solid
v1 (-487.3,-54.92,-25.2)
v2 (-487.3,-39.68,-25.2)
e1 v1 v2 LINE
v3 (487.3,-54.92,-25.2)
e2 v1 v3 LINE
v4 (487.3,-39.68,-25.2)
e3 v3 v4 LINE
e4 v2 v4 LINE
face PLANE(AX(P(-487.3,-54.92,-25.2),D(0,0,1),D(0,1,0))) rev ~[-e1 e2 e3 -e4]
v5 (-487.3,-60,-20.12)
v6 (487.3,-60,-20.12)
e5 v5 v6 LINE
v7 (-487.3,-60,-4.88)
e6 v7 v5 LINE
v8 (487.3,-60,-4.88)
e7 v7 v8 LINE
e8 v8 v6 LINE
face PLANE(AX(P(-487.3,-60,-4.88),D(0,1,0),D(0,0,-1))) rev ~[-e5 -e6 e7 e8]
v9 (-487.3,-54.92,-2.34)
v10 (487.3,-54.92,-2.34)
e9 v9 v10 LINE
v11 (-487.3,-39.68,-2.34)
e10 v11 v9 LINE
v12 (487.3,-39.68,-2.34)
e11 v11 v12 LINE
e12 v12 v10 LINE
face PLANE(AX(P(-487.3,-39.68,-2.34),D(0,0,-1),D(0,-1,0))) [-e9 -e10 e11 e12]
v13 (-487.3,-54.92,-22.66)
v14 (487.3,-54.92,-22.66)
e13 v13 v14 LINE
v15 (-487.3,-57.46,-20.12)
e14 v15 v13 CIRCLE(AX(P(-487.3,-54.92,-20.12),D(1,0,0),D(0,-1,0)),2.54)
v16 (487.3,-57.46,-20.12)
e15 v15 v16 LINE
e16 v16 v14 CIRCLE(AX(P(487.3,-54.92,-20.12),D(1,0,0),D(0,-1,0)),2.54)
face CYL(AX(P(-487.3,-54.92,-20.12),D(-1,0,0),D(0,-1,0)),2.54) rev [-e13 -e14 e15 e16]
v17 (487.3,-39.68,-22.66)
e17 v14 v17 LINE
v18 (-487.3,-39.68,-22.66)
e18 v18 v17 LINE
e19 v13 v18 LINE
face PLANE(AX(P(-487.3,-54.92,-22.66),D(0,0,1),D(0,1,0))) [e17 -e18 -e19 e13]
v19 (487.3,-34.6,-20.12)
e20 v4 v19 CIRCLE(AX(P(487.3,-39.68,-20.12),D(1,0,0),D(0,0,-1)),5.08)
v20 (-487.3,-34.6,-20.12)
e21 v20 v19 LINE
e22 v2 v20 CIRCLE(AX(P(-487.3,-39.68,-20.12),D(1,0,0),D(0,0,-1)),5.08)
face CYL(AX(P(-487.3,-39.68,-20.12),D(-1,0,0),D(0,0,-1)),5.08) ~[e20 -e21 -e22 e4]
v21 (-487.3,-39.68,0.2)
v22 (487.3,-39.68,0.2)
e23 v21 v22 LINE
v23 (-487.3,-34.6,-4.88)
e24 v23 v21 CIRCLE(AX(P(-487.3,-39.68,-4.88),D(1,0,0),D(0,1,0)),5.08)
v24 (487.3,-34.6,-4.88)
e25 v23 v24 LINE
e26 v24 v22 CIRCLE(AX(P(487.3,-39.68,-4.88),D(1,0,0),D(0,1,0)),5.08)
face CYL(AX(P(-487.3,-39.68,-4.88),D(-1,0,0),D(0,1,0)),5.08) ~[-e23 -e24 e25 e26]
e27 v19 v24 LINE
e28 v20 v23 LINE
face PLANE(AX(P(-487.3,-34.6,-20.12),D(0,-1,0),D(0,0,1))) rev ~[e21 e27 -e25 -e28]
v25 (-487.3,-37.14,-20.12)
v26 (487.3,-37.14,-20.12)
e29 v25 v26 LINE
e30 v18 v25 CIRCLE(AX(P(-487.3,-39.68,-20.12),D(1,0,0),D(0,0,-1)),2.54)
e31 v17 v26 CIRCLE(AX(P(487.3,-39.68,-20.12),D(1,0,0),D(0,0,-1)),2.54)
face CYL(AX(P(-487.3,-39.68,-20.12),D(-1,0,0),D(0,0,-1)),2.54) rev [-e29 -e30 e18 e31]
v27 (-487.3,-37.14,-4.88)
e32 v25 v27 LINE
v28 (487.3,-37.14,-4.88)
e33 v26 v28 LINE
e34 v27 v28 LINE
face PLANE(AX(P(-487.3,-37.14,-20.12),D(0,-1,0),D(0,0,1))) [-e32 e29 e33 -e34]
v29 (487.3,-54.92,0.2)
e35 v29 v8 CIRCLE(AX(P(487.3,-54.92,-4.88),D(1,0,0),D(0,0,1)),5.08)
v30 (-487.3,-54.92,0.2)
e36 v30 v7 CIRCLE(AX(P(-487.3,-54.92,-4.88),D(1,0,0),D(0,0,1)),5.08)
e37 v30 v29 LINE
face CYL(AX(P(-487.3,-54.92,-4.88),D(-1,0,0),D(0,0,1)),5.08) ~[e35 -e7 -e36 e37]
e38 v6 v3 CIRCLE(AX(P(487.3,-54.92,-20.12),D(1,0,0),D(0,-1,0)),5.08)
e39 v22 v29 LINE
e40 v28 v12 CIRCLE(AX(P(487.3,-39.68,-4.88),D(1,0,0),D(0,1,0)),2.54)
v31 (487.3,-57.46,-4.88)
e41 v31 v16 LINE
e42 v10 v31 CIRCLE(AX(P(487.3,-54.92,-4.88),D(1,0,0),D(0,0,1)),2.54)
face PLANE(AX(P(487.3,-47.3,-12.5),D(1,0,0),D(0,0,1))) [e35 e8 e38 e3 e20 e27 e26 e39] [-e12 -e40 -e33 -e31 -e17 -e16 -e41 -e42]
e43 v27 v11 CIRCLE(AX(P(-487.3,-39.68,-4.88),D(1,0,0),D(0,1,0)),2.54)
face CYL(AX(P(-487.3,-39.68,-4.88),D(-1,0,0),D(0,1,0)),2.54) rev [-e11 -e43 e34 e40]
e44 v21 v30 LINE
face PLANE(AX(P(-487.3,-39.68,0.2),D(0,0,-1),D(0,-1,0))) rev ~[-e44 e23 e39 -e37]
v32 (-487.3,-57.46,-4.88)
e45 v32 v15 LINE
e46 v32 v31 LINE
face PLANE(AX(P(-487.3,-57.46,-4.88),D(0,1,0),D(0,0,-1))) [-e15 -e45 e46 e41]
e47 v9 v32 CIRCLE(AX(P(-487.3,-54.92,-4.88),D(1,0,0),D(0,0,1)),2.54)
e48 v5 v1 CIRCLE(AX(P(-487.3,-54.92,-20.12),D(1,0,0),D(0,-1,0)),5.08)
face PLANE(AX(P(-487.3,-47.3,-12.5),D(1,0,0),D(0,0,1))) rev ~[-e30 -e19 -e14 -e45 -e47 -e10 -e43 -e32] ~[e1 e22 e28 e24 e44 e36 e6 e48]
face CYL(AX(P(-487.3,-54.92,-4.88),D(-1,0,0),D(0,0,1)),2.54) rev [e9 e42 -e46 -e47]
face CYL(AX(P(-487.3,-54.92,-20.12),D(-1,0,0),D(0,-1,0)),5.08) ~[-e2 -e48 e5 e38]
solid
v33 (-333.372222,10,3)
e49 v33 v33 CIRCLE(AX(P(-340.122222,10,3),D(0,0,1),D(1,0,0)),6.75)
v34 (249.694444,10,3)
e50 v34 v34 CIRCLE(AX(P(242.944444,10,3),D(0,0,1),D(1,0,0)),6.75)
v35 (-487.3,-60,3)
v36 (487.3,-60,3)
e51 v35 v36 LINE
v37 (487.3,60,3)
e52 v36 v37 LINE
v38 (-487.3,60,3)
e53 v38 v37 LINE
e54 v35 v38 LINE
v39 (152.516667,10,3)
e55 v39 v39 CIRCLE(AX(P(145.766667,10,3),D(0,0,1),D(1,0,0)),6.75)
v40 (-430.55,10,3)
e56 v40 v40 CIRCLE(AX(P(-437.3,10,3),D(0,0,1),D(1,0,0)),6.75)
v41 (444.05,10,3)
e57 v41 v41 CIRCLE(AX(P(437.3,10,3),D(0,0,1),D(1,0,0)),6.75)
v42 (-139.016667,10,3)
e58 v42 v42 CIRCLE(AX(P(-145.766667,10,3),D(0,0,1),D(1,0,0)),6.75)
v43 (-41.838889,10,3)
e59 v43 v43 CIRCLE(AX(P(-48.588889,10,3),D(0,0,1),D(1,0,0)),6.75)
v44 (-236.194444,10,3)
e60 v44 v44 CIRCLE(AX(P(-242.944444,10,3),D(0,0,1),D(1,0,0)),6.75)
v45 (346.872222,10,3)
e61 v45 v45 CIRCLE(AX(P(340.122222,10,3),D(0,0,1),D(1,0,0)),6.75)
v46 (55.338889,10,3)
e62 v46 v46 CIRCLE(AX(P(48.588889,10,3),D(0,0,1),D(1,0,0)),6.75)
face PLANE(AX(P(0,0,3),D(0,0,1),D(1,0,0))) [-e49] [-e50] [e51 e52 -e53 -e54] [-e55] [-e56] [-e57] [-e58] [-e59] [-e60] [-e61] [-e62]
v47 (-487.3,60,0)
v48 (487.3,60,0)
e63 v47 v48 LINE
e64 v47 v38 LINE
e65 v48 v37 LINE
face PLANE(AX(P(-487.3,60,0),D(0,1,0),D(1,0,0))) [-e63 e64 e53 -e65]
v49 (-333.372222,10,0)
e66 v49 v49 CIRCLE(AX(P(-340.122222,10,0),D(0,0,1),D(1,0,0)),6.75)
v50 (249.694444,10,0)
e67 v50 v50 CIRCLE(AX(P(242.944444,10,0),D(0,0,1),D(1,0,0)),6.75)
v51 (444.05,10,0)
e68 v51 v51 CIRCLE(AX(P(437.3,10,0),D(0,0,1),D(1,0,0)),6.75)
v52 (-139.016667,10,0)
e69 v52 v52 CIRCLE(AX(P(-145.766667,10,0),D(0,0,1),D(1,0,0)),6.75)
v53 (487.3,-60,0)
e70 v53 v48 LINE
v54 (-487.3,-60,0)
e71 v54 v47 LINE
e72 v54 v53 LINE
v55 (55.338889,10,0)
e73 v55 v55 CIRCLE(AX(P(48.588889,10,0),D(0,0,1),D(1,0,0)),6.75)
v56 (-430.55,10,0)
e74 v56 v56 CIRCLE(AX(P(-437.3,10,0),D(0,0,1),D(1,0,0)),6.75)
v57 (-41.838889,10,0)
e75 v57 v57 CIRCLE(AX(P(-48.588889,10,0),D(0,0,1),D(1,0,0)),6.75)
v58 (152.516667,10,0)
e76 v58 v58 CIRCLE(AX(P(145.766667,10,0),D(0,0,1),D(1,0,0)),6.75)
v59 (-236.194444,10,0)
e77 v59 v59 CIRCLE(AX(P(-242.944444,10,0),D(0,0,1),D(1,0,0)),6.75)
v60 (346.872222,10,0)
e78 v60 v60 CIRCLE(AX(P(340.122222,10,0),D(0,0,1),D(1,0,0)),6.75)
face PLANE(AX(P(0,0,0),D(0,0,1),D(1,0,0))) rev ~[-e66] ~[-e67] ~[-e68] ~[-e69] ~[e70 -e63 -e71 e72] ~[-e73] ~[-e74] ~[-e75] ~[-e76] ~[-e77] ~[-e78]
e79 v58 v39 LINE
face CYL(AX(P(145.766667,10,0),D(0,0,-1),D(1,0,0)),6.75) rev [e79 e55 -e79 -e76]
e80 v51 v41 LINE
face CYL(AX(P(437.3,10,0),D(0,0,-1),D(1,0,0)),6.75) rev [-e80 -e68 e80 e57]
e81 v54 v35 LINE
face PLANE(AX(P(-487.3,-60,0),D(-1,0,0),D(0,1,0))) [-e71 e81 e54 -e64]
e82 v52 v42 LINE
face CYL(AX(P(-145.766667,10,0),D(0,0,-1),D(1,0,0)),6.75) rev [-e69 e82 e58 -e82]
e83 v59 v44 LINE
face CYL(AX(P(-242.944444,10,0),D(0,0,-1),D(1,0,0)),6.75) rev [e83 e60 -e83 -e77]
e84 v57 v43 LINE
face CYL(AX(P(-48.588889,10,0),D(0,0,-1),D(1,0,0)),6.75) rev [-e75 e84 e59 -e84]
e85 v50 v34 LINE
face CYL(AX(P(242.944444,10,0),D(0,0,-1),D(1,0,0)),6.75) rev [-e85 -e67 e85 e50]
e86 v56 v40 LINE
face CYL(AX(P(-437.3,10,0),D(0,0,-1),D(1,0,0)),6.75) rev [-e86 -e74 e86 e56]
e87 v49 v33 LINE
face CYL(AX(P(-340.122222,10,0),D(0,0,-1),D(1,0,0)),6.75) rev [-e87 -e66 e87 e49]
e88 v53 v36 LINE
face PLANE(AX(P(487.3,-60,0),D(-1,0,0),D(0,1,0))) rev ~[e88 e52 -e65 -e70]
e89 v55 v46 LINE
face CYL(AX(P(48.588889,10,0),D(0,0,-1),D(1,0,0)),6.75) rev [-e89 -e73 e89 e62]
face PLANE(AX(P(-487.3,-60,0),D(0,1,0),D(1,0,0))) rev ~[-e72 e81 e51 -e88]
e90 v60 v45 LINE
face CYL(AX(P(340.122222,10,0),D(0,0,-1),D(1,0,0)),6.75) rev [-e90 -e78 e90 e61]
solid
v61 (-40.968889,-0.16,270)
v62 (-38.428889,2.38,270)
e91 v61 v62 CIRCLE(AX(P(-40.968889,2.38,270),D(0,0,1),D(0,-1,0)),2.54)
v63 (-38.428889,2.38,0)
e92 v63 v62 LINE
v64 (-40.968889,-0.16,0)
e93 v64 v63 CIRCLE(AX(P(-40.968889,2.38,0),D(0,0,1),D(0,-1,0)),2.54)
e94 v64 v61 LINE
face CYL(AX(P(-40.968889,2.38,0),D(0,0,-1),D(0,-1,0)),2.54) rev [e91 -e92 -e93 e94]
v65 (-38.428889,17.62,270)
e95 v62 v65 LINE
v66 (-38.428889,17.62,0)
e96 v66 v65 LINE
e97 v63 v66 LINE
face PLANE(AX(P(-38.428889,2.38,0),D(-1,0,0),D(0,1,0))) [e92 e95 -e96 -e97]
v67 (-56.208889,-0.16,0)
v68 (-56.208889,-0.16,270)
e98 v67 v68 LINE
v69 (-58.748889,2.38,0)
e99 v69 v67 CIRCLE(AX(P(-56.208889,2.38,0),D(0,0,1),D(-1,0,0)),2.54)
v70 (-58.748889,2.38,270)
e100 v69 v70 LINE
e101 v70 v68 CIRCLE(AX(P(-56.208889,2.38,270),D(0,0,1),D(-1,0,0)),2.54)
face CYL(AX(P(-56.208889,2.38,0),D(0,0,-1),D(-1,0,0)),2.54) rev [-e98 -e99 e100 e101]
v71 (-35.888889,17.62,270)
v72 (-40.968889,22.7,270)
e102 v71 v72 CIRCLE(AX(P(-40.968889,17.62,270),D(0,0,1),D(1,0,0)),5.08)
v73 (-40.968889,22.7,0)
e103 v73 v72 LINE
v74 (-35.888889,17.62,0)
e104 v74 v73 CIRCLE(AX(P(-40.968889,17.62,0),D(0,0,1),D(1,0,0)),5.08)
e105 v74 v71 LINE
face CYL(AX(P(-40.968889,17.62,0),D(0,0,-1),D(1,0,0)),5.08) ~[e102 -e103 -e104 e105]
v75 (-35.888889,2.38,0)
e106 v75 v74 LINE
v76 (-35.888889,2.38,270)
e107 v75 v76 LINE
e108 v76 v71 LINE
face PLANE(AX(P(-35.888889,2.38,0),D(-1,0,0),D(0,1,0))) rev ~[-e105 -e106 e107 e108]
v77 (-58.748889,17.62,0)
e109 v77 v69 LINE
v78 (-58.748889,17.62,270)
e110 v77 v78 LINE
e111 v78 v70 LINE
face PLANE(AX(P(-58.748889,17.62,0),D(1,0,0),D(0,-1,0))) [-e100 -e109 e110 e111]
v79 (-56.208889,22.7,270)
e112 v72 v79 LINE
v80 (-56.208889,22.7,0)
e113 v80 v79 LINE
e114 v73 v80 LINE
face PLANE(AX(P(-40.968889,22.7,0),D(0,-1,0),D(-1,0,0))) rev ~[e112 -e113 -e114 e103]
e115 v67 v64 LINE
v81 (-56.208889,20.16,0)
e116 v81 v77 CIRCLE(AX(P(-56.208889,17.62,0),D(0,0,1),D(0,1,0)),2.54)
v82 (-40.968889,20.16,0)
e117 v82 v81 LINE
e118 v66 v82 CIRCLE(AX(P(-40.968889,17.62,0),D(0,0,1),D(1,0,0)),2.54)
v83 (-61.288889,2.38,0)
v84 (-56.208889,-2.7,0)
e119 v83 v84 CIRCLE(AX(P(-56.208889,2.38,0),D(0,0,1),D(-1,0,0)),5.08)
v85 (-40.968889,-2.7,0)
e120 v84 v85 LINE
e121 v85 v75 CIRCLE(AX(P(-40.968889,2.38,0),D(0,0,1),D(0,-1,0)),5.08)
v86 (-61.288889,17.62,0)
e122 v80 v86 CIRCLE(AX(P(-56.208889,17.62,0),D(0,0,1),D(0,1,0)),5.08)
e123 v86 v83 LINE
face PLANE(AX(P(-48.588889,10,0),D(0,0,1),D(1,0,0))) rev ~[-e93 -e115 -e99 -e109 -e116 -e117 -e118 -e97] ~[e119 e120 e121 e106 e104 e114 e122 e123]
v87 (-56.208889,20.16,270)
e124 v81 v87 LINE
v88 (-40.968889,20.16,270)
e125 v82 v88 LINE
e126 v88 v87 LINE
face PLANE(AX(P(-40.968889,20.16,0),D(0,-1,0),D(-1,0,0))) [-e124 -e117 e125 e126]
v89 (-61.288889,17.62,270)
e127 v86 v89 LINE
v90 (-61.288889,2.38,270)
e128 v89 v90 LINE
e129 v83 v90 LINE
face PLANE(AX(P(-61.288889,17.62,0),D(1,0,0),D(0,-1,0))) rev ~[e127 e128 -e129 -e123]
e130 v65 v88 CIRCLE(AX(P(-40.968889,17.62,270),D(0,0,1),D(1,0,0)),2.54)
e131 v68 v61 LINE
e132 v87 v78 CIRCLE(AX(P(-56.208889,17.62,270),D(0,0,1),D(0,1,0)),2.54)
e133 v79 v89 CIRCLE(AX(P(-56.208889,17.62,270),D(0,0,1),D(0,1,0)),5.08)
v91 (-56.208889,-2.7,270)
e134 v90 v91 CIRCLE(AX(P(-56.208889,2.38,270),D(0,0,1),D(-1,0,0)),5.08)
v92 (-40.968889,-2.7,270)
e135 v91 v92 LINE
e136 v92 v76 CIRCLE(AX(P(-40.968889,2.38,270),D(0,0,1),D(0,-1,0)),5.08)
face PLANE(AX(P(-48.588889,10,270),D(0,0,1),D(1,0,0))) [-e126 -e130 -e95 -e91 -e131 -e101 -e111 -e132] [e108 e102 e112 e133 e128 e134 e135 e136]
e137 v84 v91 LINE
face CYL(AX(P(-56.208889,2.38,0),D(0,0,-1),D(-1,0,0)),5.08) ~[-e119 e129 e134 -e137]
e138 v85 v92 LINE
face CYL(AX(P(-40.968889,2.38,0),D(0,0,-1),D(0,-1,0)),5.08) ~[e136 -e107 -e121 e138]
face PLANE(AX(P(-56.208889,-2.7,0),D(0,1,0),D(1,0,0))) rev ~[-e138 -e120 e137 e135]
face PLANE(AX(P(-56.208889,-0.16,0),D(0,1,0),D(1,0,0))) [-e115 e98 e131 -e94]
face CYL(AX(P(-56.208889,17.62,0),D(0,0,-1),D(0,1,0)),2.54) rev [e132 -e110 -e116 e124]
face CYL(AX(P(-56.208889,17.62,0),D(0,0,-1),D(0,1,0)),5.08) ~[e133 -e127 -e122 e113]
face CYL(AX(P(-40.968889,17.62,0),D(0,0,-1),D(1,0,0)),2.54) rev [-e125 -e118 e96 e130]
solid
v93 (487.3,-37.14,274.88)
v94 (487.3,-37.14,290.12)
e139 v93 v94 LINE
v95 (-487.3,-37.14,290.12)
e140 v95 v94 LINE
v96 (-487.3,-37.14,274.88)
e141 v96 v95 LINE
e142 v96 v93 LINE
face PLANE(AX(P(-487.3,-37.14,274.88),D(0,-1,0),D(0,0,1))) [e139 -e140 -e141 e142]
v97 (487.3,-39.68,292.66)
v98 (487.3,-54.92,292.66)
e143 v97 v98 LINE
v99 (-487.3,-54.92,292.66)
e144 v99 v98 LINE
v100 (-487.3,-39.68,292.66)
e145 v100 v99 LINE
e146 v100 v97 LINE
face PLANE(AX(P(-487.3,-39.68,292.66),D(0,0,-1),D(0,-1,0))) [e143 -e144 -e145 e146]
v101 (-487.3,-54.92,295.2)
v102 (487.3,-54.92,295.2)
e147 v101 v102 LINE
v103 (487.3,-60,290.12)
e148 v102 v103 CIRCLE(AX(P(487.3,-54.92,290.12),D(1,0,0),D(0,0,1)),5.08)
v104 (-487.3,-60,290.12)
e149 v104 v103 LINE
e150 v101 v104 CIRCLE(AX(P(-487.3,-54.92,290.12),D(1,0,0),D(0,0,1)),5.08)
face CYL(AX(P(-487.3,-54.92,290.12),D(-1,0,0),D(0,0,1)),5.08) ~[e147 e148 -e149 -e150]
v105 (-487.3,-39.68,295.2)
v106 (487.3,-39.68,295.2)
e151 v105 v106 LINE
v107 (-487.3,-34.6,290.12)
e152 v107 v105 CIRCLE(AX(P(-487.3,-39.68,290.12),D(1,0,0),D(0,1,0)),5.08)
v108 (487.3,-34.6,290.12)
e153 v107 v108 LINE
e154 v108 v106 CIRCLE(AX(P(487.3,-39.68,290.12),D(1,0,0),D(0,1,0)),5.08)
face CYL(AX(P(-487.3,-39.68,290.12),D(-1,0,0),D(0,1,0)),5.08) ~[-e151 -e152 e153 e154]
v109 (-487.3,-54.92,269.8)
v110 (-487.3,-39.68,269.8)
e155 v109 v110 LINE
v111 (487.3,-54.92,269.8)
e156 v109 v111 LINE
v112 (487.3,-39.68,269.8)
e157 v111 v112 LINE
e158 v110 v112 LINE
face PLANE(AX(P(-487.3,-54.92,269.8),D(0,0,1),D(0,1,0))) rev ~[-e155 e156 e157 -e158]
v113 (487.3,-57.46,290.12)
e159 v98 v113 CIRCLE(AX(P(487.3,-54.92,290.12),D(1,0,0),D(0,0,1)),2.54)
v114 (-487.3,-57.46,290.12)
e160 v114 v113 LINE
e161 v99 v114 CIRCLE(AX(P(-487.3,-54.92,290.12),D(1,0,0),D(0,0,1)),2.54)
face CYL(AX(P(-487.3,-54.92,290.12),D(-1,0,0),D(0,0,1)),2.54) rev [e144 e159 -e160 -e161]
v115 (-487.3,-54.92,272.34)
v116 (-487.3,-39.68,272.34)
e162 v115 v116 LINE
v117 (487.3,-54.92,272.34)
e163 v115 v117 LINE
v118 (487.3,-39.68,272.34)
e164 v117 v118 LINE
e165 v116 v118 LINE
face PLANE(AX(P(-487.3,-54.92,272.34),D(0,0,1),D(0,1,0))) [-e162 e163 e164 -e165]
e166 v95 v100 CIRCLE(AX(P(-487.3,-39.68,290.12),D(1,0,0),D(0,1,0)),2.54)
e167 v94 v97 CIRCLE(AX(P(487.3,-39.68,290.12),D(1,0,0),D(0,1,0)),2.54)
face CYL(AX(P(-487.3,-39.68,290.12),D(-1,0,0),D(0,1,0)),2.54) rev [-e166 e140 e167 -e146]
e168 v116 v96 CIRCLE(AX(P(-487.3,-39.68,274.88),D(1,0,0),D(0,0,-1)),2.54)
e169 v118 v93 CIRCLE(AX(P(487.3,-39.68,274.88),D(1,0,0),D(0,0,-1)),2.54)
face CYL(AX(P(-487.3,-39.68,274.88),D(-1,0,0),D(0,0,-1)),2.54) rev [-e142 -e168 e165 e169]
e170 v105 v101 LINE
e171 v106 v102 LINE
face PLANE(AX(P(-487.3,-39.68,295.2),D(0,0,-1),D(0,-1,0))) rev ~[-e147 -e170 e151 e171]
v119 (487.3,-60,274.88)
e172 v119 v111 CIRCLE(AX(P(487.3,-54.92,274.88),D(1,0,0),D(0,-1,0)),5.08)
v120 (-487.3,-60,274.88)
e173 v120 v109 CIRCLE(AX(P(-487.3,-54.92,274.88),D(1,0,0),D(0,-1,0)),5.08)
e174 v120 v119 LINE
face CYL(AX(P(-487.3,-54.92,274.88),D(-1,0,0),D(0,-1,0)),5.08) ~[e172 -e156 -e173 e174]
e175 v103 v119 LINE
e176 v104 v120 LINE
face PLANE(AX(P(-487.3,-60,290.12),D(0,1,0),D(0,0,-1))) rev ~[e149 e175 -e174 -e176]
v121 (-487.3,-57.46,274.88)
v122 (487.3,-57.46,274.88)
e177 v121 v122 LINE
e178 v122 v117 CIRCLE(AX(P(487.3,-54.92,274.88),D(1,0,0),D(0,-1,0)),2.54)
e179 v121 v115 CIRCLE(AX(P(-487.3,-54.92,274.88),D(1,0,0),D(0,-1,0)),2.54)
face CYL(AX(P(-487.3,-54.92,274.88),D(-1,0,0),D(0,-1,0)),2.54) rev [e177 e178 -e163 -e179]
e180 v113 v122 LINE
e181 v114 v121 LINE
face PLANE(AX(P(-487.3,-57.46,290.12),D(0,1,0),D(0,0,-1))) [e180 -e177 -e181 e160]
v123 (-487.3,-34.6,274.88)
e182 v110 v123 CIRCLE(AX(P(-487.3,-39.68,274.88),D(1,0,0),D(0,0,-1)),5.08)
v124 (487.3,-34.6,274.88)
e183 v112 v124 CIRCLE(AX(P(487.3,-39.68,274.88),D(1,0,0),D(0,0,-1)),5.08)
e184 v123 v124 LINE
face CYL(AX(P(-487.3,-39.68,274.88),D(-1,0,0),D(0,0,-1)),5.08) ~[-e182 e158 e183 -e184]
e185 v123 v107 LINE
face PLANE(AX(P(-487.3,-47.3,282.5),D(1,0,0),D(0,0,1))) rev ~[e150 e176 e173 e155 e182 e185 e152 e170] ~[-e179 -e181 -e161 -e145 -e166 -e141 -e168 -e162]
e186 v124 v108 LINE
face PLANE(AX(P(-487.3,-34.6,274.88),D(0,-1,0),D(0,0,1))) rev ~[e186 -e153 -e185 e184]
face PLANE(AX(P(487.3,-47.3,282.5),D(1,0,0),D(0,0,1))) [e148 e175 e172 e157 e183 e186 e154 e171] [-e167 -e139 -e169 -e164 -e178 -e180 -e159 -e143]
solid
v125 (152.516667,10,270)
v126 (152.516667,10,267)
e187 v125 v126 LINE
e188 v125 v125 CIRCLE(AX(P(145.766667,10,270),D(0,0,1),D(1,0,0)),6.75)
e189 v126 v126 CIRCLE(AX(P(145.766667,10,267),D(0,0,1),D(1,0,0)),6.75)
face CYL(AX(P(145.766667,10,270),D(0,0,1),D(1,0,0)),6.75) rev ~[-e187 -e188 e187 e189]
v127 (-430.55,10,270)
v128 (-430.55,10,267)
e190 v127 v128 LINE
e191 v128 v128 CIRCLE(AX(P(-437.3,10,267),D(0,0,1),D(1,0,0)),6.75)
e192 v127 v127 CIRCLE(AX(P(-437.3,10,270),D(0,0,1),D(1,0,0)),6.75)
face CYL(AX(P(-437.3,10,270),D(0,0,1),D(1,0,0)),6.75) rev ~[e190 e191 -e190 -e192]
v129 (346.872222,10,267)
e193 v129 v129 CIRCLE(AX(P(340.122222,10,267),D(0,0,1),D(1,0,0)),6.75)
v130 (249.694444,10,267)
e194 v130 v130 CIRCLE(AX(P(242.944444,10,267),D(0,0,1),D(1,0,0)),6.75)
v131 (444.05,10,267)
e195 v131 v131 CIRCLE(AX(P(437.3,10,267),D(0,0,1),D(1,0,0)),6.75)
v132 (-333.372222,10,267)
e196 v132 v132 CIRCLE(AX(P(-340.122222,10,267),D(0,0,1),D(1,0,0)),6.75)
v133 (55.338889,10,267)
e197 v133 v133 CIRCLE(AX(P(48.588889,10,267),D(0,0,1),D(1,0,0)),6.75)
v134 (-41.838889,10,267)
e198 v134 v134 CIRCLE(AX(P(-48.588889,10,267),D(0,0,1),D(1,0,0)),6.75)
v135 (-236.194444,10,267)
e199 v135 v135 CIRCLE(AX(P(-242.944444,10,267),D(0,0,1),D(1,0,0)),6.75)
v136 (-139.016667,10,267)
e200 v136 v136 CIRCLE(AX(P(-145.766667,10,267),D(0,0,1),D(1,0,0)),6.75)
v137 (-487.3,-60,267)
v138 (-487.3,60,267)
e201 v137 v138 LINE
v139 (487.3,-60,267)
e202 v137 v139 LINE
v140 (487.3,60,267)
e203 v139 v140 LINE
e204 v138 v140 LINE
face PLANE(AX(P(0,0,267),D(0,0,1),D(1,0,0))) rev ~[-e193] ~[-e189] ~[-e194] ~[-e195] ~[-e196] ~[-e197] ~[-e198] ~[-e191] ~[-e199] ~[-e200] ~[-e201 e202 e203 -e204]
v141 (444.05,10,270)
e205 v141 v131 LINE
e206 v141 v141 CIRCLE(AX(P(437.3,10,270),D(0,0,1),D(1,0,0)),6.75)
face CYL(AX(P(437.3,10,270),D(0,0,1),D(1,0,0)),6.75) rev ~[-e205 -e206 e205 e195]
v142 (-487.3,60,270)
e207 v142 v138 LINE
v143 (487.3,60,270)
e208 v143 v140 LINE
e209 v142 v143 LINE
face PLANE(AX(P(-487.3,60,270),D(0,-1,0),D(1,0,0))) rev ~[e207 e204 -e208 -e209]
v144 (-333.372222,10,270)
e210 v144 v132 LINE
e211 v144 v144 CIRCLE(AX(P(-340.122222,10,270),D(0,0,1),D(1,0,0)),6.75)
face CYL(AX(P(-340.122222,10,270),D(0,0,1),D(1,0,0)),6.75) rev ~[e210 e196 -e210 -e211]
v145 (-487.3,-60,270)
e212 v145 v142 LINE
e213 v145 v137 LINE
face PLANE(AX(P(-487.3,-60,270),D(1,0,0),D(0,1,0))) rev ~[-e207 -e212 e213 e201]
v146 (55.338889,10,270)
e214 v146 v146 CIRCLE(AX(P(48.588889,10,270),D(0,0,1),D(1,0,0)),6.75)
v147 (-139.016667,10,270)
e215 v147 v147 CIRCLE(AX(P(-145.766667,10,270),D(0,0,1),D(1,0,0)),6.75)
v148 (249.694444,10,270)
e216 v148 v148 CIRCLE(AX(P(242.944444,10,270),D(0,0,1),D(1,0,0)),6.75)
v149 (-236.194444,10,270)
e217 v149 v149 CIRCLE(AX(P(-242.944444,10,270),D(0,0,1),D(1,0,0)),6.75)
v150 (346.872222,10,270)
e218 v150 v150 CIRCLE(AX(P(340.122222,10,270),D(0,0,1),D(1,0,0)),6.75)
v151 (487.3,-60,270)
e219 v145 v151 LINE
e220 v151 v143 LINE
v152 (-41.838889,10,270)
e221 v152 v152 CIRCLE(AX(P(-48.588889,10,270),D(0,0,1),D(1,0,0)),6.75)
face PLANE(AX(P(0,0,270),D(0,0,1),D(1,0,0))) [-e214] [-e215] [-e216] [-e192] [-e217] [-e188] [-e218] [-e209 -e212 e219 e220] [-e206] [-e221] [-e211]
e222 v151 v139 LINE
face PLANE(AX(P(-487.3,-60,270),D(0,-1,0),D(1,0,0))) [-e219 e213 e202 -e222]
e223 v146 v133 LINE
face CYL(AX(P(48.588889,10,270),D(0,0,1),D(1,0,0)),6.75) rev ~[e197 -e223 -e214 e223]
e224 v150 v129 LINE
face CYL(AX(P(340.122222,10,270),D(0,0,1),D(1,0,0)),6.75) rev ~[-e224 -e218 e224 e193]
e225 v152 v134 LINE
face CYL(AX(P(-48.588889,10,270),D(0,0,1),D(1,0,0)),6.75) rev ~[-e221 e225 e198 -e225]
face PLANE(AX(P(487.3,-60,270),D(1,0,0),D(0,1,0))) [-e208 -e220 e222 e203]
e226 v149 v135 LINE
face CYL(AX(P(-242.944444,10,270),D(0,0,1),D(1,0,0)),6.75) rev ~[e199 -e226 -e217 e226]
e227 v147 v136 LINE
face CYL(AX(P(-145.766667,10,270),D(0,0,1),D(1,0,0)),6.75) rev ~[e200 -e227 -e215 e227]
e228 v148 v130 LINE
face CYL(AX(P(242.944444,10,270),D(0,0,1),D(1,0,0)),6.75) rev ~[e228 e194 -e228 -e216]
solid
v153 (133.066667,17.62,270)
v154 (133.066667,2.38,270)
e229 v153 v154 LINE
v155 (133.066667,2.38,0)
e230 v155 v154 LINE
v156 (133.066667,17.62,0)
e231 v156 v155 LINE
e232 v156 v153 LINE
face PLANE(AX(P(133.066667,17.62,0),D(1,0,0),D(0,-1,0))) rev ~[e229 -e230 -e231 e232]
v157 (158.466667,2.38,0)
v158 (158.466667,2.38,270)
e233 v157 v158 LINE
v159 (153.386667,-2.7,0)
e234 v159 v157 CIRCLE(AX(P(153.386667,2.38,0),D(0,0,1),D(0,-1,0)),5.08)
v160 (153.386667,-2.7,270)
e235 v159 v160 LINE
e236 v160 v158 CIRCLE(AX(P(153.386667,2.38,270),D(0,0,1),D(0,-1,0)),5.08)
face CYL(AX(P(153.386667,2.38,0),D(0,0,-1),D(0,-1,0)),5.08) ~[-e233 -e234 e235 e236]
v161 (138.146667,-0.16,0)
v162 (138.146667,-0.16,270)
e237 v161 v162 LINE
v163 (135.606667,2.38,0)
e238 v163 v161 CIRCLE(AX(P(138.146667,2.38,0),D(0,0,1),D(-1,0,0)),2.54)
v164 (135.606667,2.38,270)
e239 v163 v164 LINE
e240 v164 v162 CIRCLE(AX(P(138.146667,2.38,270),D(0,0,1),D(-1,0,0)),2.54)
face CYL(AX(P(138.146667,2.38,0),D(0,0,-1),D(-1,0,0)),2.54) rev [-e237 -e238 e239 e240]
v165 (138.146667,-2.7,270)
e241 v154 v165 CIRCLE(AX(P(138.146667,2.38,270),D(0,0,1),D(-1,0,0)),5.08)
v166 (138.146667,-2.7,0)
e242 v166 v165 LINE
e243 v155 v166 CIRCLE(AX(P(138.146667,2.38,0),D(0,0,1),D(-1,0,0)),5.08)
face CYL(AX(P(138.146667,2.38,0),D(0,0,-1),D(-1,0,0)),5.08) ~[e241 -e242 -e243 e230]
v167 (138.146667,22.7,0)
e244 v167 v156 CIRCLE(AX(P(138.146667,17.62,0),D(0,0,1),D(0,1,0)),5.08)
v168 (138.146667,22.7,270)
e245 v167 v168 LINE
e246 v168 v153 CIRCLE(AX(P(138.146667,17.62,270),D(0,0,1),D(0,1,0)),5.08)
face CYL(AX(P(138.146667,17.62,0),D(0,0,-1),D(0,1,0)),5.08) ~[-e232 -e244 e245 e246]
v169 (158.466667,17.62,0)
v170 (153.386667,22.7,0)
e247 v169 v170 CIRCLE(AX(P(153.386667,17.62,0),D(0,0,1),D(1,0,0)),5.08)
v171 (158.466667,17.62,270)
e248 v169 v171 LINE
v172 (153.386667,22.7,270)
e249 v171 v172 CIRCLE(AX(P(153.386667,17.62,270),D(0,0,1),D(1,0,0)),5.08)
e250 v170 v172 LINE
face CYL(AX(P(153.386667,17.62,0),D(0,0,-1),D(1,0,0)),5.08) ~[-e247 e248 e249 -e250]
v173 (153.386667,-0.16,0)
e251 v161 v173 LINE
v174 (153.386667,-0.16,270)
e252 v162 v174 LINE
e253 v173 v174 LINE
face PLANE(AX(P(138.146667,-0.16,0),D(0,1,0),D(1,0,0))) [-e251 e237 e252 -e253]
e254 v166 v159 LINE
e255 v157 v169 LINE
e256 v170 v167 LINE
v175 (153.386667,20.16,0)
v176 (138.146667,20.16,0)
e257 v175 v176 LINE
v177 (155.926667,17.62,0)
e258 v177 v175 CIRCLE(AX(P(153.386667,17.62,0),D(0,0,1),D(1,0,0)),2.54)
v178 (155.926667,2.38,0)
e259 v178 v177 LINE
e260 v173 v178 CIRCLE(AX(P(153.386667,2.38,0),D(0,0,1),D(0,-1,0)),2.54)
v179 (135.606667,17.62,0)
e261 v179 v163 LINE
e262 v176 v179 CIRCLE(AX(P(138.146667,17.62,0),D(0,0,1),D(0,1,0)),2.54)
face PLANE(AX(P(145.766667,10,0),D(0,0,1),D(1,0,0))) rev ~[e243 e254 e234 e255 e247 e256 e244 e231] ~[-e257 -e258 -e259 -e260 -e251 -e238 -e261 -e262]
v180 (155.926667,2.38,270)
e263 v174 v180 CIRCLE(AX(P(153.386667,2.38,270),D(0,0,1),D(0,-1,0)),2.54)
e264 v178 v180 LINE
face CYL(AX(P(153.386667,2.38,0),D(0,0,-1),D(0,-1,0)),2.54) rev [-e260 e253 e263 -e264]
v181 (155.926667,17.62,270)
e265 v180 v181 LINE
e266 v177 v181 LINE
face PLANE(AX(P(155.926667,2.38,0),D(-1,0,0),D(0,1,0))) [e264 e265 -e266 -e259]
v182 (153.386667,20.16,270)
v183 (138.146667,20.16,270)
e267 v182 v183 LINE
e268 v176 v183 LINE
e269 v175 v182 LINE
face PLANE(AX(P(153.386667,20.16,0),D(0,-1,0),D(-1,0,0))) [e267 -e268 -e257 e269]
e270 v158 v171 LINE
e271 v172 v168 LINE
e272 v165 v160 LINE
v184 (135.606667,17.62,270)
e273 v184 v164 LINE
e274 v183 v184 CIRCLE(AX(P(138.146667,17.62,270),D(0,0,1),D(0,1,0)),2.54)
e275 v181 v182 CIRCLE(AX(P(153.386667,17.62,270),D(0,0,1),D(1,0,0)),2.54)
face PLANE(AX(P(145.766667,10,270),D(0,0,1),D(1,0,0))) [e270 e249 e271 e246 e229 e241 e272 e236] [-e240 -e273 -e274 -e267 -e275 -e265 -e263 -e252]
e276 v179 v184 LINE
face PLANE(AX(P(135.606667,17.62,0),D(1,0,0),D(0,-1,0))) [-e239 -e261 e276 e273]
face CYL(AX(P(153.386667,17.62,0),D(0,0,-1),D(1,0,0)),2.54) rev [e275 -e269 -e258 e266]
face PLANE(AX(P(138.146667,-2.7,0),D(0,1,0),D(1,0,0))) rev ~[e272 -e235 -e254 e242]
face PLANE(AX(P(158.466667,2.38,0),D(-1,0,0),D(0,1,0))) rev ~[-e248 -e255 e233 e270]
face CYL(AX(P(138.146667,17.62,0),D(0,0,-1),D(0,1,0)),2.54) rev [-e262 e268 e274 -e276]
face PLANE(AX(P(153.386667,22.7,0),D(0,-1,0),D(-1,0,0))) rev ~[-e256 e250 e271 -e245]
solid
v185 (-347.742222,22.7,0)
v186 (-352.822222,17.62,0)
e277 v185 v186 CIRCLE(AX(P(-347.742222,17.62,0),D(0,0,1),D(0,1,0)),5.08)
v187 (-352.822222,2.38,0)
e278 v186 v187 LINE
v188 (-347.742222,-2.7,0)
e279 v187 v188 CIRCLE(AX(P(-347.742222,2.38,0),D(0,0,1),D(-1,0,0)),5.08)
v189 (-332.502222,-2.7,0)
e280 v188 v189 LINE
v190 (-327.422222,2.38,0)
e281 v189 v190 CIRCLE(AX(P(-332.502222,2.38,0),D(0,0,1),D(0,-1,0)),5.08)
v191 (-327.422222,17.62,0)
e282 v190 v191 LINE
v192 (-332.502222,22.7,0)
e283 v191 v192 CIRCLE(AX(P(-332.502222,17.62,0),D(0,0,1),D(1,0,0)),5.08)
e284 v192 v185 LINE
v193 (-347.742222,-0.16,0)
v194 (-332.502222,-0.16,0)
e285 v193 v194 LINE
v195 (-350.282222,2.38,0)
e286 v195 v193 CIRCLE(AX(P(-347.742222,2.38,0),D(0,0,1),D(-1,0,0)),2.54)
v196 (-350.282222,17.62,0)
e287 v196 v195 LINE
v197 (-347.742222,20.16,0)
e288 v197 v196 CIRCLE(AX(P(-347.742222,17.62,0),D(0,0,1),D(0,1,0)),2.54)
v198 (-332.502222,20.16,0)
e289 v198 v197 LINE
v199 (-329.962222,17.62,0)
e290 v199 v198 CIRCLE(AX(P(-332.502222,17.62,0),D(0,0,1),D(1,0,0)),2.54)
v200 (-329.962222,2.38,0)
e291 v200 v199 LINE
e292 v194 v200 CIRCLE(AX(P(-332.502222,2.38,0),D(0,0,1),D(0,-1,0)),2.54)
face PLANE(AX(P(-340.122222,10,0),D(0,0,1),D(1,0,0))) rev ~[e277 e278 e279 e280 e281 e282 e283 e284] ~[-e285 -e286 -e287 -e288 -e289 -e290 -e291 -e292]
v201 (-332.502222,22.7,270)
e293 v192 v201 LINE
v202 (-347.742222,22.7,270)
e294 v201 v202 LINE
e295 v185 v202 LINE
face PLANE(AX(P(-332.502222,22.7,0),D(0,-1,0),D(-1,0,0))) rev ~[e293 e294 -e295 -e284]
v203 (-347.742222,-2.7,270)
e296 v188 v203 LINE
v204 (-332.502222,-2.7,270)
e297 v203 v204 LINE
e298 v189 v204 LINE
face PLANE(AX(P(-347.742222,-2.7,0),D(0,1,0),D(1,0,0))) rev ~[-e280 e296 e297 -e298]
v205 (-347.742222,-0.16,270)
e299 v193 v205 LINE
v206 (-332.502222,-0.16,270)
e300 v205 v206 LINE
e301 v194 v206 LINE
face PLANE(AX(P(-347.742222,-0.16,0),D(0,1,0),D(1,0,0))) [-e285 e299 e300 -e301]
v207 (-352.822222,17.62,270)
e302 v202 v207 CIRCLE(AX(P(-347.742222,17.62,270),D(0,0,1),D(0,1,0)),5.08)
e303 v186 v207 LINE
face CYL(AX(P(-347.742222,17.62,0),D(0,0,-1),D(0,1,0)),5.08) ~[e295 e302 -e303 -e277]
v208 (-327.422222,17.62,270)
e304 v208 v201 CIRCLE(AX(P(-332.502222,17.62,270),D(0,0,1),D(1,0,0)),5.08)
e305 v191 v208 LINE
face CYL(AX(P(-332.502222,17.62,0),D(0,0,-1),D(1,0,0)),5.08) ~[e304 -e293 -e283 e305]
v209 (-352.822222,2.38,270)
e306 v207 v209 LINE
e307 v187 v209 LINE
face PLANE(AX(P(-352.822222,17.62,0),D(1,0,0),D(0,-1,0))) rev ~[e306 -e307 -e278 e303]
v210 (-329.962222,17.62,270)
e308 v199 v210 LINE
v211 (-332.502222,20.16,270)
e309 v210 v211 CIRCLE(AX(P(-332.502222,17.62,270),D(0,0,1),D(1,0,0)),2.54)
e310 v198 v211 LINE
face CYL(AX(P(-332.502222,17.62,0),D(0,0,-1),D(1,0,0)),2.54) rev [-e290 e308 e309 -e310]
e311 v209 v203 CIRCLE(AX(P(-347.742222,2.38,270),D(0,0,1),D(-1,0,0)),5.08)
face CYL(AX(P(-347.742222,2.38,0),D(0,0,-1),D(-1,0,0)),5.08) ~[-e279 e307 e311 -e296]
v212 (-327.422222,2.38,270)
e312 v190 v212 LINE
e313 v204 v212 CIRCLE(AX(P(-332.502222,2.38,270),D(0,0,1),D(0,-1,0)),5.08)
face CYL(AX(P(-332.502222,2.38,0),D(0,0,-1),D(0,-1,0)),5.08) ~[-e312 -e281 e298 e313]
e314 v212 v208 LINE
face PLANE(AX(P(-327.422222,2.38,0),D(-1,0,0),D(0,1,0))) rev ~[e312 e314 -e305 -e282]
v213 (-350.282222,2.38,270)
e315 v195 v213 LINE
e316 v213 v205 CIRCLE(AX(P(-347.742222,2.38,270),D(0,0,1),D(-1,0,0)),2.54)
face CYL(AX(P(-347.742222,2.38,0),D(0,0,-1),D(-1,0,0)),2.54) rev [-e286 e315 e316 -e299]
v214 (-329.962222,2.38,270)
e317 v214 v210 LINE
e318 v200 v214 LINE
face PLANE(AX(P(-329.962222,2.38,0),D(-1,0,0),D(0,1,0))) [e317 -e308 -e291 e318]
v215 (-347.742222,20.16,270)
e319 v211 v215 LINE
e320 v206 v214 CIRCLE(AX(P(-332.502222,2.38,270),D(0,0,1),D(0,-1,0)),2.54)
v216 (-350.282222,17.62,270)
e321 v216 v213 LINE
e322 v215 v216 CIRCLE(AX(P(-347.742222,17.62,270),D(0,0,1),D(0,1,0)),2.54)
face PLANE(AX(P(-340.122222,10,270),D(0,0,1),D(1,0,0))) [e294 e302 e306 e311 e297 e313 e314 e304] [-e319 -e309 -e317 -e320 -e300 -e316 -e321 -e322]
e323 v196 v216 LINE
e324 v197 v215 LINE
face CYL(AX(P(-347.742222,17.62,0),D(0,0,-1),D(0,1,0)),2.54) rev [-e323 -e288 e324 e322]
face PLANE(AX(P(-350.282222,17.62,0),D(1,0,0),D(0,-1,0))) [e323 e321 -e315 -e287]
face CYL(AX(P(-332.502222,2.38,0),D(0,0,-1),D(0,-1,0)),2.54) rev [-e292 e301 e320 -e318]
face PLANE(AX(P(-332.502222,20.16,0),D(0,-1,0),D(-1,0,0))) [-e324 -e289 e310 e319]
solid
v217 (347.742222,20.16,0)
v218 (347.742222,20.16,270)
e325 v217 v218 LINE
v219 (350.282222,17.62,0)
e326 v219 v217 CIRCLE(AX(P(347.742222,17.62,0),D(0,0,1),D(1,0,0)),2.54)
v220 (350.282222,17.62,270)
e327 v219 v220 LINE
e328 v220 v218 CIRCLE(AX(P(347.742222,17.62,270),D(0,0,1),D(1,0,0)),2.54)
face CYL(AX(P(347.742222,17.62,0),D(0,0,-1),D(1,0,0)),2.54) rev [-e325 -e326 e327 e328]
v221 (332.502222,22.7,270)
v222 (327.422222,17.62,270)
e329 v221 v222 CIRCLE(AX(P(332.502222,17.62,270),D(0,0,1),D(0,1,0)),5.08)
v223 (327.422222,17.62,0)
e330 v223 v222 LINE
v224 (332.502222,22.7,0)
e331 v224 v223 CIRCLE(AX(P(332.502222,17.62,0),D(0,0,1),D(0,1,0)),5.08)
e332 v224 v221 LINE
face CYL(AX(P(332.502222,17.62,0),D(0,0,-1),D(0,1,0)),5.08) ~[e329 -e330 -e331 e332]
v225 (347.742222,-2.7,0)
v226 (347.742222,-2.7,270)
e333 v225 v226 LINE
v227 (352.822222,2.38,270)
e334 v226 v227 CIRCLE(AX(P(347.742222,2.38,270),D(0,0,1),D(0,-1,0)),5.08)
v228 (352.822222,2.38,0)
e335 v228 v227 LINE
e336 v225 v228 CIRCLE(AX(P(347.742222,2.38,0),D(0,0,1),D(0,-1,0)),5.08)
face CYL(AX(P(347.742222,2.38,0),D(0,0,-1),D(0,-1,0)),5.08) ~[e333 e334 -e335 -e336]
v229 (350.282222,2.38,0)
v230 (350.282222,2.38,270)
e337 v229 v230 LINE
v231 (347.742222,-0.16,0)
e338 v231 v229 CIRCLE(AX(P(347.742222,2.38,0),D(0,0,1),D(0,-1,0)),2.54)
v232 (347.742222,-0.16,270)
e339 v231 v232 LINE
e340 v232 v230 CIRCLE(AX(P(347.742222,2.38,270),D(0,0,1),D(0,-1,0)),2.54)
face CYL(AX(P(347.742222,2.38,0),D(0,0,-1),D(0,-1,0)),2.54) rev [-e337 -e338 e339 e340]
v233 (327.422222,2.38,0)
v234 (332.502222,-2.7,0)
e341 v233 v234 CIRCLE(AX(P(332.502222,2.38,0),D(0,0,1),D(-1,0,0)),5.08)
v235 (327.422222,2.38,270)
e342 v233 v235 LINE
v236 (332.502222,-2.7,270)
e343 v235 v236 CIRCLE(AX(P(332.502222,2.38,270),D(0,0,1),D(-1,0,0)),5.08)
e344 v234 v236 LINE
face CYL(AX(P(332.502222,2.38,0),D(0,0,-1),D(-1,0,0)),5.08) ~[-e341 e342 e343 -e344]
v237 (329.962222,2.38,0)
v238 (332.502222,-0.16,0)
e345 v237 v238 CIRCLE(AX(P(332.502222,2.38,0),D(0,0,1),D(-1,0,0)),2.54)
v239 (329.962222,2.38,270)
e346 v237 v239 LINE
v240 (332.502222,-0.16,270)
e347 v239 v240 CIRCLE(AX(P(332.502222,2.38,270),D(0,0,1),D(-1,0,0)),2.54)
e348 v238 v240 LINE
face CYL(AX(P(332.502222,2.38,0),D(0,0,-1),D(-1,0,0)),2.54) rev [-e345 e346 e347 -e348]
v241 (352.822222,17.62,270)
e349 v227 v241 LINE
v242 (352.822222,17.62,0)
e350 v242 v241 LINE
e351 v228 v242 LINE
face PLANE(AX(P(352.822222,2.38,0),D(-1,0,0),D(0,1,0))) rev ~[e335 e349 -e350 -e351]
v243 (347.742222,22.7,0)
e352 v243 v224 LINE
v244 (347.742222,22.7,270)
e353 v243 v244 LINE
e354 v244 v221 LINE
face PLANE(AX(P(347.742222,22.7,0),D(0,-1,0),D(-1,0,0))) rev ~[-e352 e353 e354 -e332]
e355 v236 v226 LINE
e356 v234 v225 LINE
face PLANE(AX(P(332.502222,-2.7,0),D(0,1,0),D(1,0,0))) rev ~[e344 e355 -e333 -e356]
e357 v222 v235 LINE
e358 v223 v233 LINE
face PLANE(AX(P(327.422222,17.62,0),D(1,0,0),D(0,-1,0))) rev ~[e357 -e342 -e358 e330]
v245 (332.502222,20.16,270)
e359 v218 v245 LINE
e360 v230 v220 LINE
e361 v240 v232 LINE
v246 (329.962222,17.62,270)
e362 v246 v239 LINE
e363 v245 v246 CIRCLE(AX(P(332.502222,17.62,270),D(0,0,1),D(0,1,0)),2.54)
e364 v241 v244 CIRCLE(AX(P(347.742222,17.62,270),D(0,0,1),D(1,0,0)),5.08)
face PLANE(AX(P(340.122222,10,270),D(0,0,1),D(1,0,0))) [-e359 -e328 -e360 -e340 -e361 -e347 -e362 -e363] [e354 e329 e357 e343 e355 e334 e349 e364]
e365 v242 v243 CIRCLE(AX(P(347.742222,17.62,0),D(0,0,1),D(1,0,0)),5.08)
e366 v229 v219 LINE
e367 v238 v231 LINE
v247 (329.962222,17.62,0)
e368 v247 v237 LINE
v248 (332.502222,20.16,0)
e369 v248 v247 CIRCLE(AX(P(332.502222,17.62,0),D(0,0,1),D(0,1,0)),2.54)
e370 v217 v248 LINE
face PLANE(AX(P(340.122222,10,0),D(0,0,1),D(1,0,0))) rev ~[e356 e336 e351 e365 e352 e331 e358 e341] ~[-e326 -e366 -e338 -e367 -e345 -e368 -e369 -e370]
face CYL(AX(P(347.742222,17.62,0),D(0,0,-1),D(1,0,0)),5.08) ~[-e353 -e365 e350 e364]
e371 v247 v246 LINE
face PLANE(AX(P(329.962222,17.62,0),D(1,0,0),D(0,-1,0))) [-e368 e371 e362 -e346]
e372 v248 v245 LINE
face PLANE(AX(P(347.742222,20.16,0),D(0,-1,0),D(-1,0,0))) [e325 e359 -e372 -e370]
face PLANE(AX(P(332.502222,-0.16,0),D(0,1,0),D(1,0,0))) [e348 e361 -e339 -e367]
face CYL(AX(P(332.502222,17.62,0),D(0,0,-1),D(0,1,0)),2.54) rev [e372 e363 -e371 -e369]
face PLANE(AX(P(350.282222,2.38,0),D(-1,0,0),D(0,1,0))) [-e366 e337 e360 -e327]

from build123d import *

# Parameters (mm, degrees)
SKETCH1_W                         = 974.6
SKETCH1_H                         = 120
SKETCH1_R                         = 6.75
BOSS_EXTRUDE1_DEPTH               = 3
SKETCH3_W                         = 974.6
SKETCH3_H                         = 120
SKETCH3_R                         = 6.75
BOSS_EXTRUDE2_DEPTH               = 3
TUBE_SQUARE_TS25X25X2_5_1_DEPTH   = 974.6
TUBE_SQUARE_TS25X25X2_5_1_2_DEPTH = 974.6
TUBE_SQUARE_TS25X25X2_5_2_DEPTH   = 270
TUBE_SQUARE_TS25X25X2_5_2_2_DEPTH = 270
TUBE_SQUARE_TS25X25X2_5_2_3_DEPTH = 270
TUBE_SQUARE_TS25X25X2_5_2_4_DEPTH = 270


with BuildPart() as part:
    # Sketch1 → Boss-Extrude1 (new body)
    with BuildSketch(Plane.XY):
        Rectangle(SKETCH1_W, SKETCH1_H)
        with Locations((-437.3, 10)):
            Circle(SKETCH1_R, mode=Mode.SUBTRACT)
        with Locations((-340.122222222, 10)):
            Circle(SKETCH1_R, mode=Mode.SUBTRACT)
        with Locations((-242.944444444, 10)):
            Circle(SKETCH1_R, mode=Mode.SUBTRACT)
        with Locations((-145.766666667, 10)):
            Circle(SKETCH1_R, mode=Mode.SUBTRACT)
        with Locations((-48.588888889, 10)):
            Circle(SKETCH1_R, mode=Mode.SUBTRACT)
        with Locations((48.588888889, 10)):
            Circle(SKETCH1_R, mode=Mode.SUBTRACT)
        with Locations((145.766666667, 10)):
            Circle(SKETCH1_R, mode=Mode.SUBTRACT)
        with Locations((242.944444444, 10)):
            Circle(SKETCH1_R, mode=Mode.SUBTRACT)
        with Locations((340.122222222, 10)):
            Circle(SKETCH1_R, mode=Mode.SUBTRACT)
        with Locations((437.3, 10)):
            Circle(SKETCH1_R, mode=Mode.SUBTRACT)
    extrude(amount=BOSS_EXTRUDE1_DEPTH)


with BuildPart() as body_2:
    # Sketch3 → Boss-Extrude2 (new body)
    with BuildSketch(Plane.XY.offset(270)):
        Rectangle(SKETCH3_W, SKETCH3_H)
        with Locations((437.3, 10)):
            Circle(SKETCH3_R, mode=Mode.SUBTRACT)
        with Locations((340.122222222, 10)):
            Circle(SKETCH3_R, mode=Mode.SUBTRACT)
        with Locations((242.944444444, 10)):
            Circle(SKETCH3_R, mode=Mode.SUBTRACT)
        with Locations((145.766666667, 10)):
            Circle(SKETCH3_R, mode=Mode.SUBTRACT)
        with Locations((48.588888889, 10)):
            Circle(SKETCH3_R, mode=Mode.SUBTRACT)
        with Locations((-48.588888889, 10)):
            Circle(SKETCH3_R, mode=Mode.SUBTRACT)
        with Locations((-145.766666667, 10)):
            Circle(SKETCH3_R, mode=Mode.SUBTRACT)
        with Locations((-242.944444444, 10)):
            Circle(SKETCH3_R, mode=Mode.SUBTRACT)
        with Locations((-340.122222222, 10)):
            Circle(SKETCH3_R, mode=Mode.SUBTRACT)
        with Locations((-437.3, 10)):
            Circle(SKETCH3_R, mode=Mode.SUBTRACT)
    extrude(amount=-BOSS_EXTRUDE2_DEPTH)


with BuildPart() as body_3:
    # Sketch11 → Tube square TS25X25X2.5(1) (new body)
    with BuildSketch(Plane(origin=(-487.3, -47.3, -12.5), x_dir=(0, 0, 1), z_dir=(1, 0, 0))):
        with BuildLine():
            Line((-7.62, -12.7), (7.62, -12.7))
            ThreePointArc((7.62, -12.7), (11.212102448, -11.212102448), (12.7, -7.62))
            Line((12.7, -7.62), (12.7, 7.62))
            ThreePointArc((12.7, 7.62), (11.212102448, 11.212102448), (7.62, 12.7))
            Line((7.62, 12.7), (-7.62, 12.7))
            ThreePointArc((-7.62, 12.7), (-11.212102448, 11.212102448), (-12.7, 7.62))
            Line((-12.7, 7.62), (-12.7, -7.62))
            ThreePointArc((-12.7, -7.62), (-11.212102448, -11.212102448), (-7.62, -12.7))
        make_face()
        with BuildLine():
            Line((-7.62, -10.16), (7.62, -10.16))
            ThreePointArc((7.62, -10.16), (9.416051224, -9.416051224), (10.16, -7.62))
            Line((10.16, -7.62), (10.16, 7.62))
            ThreePointArc((10.16, 7.62), (9.416051224, 9.416051224), (7.62, 10.16))
            Line((7.62, 10.16), (-7.62, 10.16))
            ThreePointArc((-7.62, 10.16), (-9.416051224, 9.416051224), (-10.16, 7.62))
            Line((-10.16, 7.62), (-10.16, -7.62))
            ThreePointArc((-10.16, -7.62), (-9.416051224, -9.416051224), (-7.62, -10.16))
        make_face(mode=Mode.SUBTRACT)
    extrude(amount=TUBE_SQUARE_TS25X25X2_5_1_DEPTH)


with BuildPart() as body_4:
    # Sketch11 on segment 2 (carried to segment 2) → Tube square TS25X25X2.5_1 2 (new body)
    with BuildSketch(Plane(origin=(-487.3, -47.3, 282.5), x_dir=(0, 0, 1), z_dir=(1, 0, 0))):
        with BuildLine():
            Line((-7.62, -12.7), (7.62, -12.7))
            ThreePointArc((7.62, -12.7), (11.212102448, -11.212102448), (12.7, -7.62))
            Line((12.7, -7.62), (12.7, 7.62))
            ThreePointArc((12.7, 7.62), (11.212102448, 11.212102448), (7.62, 12.7))
            Line((7.62, 12.7), (-7.62, 12.7))
            ThreePointArc((-7.62, 12.7), (-11.212102448, 11.212102448), (-12.7, 7.62))
            Line((-12.7, 7.62), (-12.7, -7.62))
            ThreePointArc((-12.7, -7.62), (-11.212102448, -11.212102448), (-7.62, -12.7))
        make_face()
        with BuildLine():
            Line((-7.62, -10.16), (7.62, -10.16))
            ThreePointArc((7.62, -10.16), (9.416051224, -9.416051224), (10.16, -7.62))
            Line((10.16, -7.62), (10.16, 7.62))
            ThreePointArc((10.16, 7.62), (9.416051224, 9.416051224), (7.62, 10.16))
            Line((7.62, 10.16), (-7.62, 10.16))
            ThreePointArc((-7.62, 10.16), (-9.416051224, 9.416051224), (-10.16, 7.62))
            Line((-10.16, 7.62), (-10.16, -7.62))
            ThreePointArc((-10.16, -7.62), (-9.416051224, -9.416051224), (-7.62, -10.16))
        make_face(mode=Mode.SUBTRACT)
    extrude(amount=TUBE_SQUARE_TS25X25X2_5_1_2_DEPTH)


with BuildPart() as body_5:
    # Sketch12 → Tube square TS25X25X2.5(2) (new body)
    with BuildSketch(Plane(origin=(340.122222222, 10, 0), x_dir=(1, 0, 0), z_dir=(0, 0, 1))):
        with BuildLine():
            Line((-7.62, -12.7), (7.62, -12.7))
            ThreePointArc((7.62, -12.7), (11.212102448, -11.212102448), (12.7, -7.62))
            Line((12.7, -7.62), (12.7, 7.62))
            ThreePointArc((12.7, 7.62), (11.212102448, 11.212102448), (7.62, 12.7))
            Line((7.62, 12.7), (-7.62, 12.7))
            ThreePointArc((-7.62, 12.7), (-11.212102448, 11.212102448), (-12.7, 7.62))
            Line((-12.7, 7.62), (-12.7, -7.62))
            ThreePointArc((-12.7, -7.62), (-11.212102448, -11.212102448), (-7.62, -12.7))
        make_face()
        with BuildLine():
            Line((-7.62, -10.16), (7.62, -10.16))
            ThreePointArc((7.62, -10.16), (9.416051224, -9.416051224), (10.16, -7.62))
            Line((10.16, -7.62), (10.16, 7.62))
            ThreePointArc((10.16, 7.62), (9.416051224, 9.416051224), (7.62, 10.16))
            Line((7.62, 10.16), (-7.62, 10.16))
            ThreePointArc((-7.62, 10.16), (-9.416051224, 9.416051224), (-10.16, 7.62))
            Line((-10.16, 7.62), (-10.16, -7.62))
            ThreePointArc((-10.16, -7.62), (-9.416051224, -9.416051224), (-7.62, -10.16))
        make_face(mode=Mode.SUBTRACT)
    extrude(amount=TUBE_SQUARE_TS25X25X2_5_2_DEPTH)


with BuildPart() as body_6:
    # Sketch12 on segment 2 (carried to segment 2) → Tube square TS25X25X2.5_2 2 (new body)
    with BuildSketch(Plane(origin=(-48.588888889, 10, 0), x_dir=(1, 0, 0), z_dir=(0, 0, 1))):
        with BuildLine():
            Line((-7.62, -12.7), (7.62, -12.7))
            ThreePointArc((7.62, -12.7), (11.212102448, -11.212102448), (12.7, -7.62))
            Line((12.7, -7.62), (12.7, 7.62))
            ThreePointArc((12.7, 7.62), (11.212102448, 11.212102448), (7.62, 12.7))
            Line((7.62, 12.7), (-7.62, 12.7))
            ThreePointArc((-7.62, 12.7), (-11.212102448, 11.212102448), (-12.7, 7.62))
            Line((-12.7, 7.62), (-12.7, -7.62))
            ThreePointArc((-12.7, -7.62), (-11.212102448, -11.212102448), (-7.62, -12.7))
        make_face()
        with BuildLine():
            Line((-7.62, -10.16), (7.62, -10.16))
            ThreePointArc((7.62, -10.16), (9.416051224, -9.416051224), (10.16, -7.62))
            Line((10.16, -7.62), (10.16, 7.62))
            ThreePointArc((10.16, 7.62), (9.416051224, 9.416051224), (7.62, 10.16))
            Line((7.62, 10.16), (-7.62, 10.16))
            ThreePointArc((-7.62, 10.16), (-9.416051224, 9.416051224), (-10.16, 7.62))
            Line((-10.16, 7.62), (-10.16, -7.62))
            ThreePointArc((-10.16, -7.62), (-9.416051224, -9.416051224), (-7.62, -10.16))
        make_face(mode=Mode.SUBTRACT)
    extrude(amount=TUBE_SQUARE_TS25X25X2_5_2_2_DEPTH)


with BuildPart() as body_7:
    # Sketch12 on segment 3 (carried to segment 3) → Tube square TS25X25X2.5_2 3 (new body)
    with BuildSketch(Plane(origin=(-340.122222222, 10, 0), x_dir=(1, 0, 0), z_dir=(0, 0, 1))):
        with BuildLine():
            Line((-7.62, -12.7), (7.62, -12.7))
            ThreePointArc((7.62, -12.7), (11.212102448, -11.212102448), (12.7, -7.62))
            Line((12.7, -7.62), (12.7, 7.62))
            ThreePointArc((12.7, 7.62), (11.212102448, 11.212102448), (7.62, 12.7))
            Line((7.62, 12.7), (-7.62, 12.7))
            ThreePointArc((-7.62, 12.7), (-11.212102448, 11.212102448), (-12.7, 7.62))
            Line((-12.7, 7.62), (-12.7, -7.62))
            ThreePointArc((-12.7, -7.62), (-11.212102448, -11.212102448), (-7.62, -12.7))
        make_face()
        with BuildLine():
            Line((-7.62, -10.16), (7.62, -10.16))
            ThreePointArc((7.62, -10.16), (9.416051224, -9.416051224), (10.16, -7.62))
            Line((10.16, -7.62), (10.16, 7.62))
            ThreePointArc((10.16, 7.62), (9.416051224, 9.416051224), (7.62, 10.16))
            Line((7.62, 10.16), (-7.62, 10.16))
            ThreePointArc((-7.62, 10.16), (-9.416051224, 9.416051224), (-10.16, 7.62))
            Line((-10.16, 7.62), (-10.16, -7.62))
            ThreePointArc((-10.16, -7.62), (-9.416051224, -9.416051224), (-7.62, -10.16))
        make_face(mode=Mode.SUBTRACT)
    extrude(amount=TUBE_SQUARE_TS25X25X2_5_2_3_DEPTH)


with BuildPart() as body_8:
    # Sketch12 on segment 4 (carried to segment 4) → Tube square TS25X25X2.5_2 4 (new body)
    with BuildSketch(Plane(origin=(145.766666667, 10, 0), x_dir=(1, 0, 0), z_dir=(0, 0, 1))):
        with BuildLine():
            Line((-7.62, -12.7), (7.62, -12.7))
            ThreePointArc((7.62, -12.7), (11.212102448, -11.212102448), (12.7, -7.62))
            Line((12.7, -7.62), (12.7, 7.62))
            ThreePointArc((12.7, 7.62), (11.212102448, 11.212102448), (7.62, 12.7))
            Line((7.62, 12.7), (-7.62, 12.7))
            ThreePointArc((-7.62, 12.7), (-11.212102448, 11.212102448), (-12.7, 7.62))
            Line((-12.7, 7.62), (-12.7, -7.62))
            ThreePointArc((-12.7, -7.62), (-11.212102448, -11.212102448), (-7.62, -12.7))
        make_face()
        with BuildLine():
            Line((-7.62, -10.16), (7.62, -10.16))
            ThreePointArc((7.62, -10.16), (9.416051224, -9.416051224), (10.16, -7.62))
            Line((10.16, -7.62), (10.16, 7.62))
            ThreePointArc((10.16, 7.62), (9.416051224, 9.416051224), (7.62, 10.16))
            Line((7.62, 10.16), (-7.62, 10.16))
            ThreePointArc((-7.62, 10.16), (-9.416051224, 9.416051224), (-10.16, 7.62))
            Line((-10.16, 7.62), (-10.16, -7.62))
            ThreePointArc((-10.16, -7.62), (-9.416051224, -9.416051224), (-7.62, -10.16))
        make_face(mode=Mode.SUBTRACT)
    extrude(amount=TUBE_SQUARE_TS25X25X2_5_2_4_DEPTH)


solid = Compound([part.part, body_2.part, body_3.part, body_4.part, body_5.part, body_6.part, body_7.part, body_8.part])
